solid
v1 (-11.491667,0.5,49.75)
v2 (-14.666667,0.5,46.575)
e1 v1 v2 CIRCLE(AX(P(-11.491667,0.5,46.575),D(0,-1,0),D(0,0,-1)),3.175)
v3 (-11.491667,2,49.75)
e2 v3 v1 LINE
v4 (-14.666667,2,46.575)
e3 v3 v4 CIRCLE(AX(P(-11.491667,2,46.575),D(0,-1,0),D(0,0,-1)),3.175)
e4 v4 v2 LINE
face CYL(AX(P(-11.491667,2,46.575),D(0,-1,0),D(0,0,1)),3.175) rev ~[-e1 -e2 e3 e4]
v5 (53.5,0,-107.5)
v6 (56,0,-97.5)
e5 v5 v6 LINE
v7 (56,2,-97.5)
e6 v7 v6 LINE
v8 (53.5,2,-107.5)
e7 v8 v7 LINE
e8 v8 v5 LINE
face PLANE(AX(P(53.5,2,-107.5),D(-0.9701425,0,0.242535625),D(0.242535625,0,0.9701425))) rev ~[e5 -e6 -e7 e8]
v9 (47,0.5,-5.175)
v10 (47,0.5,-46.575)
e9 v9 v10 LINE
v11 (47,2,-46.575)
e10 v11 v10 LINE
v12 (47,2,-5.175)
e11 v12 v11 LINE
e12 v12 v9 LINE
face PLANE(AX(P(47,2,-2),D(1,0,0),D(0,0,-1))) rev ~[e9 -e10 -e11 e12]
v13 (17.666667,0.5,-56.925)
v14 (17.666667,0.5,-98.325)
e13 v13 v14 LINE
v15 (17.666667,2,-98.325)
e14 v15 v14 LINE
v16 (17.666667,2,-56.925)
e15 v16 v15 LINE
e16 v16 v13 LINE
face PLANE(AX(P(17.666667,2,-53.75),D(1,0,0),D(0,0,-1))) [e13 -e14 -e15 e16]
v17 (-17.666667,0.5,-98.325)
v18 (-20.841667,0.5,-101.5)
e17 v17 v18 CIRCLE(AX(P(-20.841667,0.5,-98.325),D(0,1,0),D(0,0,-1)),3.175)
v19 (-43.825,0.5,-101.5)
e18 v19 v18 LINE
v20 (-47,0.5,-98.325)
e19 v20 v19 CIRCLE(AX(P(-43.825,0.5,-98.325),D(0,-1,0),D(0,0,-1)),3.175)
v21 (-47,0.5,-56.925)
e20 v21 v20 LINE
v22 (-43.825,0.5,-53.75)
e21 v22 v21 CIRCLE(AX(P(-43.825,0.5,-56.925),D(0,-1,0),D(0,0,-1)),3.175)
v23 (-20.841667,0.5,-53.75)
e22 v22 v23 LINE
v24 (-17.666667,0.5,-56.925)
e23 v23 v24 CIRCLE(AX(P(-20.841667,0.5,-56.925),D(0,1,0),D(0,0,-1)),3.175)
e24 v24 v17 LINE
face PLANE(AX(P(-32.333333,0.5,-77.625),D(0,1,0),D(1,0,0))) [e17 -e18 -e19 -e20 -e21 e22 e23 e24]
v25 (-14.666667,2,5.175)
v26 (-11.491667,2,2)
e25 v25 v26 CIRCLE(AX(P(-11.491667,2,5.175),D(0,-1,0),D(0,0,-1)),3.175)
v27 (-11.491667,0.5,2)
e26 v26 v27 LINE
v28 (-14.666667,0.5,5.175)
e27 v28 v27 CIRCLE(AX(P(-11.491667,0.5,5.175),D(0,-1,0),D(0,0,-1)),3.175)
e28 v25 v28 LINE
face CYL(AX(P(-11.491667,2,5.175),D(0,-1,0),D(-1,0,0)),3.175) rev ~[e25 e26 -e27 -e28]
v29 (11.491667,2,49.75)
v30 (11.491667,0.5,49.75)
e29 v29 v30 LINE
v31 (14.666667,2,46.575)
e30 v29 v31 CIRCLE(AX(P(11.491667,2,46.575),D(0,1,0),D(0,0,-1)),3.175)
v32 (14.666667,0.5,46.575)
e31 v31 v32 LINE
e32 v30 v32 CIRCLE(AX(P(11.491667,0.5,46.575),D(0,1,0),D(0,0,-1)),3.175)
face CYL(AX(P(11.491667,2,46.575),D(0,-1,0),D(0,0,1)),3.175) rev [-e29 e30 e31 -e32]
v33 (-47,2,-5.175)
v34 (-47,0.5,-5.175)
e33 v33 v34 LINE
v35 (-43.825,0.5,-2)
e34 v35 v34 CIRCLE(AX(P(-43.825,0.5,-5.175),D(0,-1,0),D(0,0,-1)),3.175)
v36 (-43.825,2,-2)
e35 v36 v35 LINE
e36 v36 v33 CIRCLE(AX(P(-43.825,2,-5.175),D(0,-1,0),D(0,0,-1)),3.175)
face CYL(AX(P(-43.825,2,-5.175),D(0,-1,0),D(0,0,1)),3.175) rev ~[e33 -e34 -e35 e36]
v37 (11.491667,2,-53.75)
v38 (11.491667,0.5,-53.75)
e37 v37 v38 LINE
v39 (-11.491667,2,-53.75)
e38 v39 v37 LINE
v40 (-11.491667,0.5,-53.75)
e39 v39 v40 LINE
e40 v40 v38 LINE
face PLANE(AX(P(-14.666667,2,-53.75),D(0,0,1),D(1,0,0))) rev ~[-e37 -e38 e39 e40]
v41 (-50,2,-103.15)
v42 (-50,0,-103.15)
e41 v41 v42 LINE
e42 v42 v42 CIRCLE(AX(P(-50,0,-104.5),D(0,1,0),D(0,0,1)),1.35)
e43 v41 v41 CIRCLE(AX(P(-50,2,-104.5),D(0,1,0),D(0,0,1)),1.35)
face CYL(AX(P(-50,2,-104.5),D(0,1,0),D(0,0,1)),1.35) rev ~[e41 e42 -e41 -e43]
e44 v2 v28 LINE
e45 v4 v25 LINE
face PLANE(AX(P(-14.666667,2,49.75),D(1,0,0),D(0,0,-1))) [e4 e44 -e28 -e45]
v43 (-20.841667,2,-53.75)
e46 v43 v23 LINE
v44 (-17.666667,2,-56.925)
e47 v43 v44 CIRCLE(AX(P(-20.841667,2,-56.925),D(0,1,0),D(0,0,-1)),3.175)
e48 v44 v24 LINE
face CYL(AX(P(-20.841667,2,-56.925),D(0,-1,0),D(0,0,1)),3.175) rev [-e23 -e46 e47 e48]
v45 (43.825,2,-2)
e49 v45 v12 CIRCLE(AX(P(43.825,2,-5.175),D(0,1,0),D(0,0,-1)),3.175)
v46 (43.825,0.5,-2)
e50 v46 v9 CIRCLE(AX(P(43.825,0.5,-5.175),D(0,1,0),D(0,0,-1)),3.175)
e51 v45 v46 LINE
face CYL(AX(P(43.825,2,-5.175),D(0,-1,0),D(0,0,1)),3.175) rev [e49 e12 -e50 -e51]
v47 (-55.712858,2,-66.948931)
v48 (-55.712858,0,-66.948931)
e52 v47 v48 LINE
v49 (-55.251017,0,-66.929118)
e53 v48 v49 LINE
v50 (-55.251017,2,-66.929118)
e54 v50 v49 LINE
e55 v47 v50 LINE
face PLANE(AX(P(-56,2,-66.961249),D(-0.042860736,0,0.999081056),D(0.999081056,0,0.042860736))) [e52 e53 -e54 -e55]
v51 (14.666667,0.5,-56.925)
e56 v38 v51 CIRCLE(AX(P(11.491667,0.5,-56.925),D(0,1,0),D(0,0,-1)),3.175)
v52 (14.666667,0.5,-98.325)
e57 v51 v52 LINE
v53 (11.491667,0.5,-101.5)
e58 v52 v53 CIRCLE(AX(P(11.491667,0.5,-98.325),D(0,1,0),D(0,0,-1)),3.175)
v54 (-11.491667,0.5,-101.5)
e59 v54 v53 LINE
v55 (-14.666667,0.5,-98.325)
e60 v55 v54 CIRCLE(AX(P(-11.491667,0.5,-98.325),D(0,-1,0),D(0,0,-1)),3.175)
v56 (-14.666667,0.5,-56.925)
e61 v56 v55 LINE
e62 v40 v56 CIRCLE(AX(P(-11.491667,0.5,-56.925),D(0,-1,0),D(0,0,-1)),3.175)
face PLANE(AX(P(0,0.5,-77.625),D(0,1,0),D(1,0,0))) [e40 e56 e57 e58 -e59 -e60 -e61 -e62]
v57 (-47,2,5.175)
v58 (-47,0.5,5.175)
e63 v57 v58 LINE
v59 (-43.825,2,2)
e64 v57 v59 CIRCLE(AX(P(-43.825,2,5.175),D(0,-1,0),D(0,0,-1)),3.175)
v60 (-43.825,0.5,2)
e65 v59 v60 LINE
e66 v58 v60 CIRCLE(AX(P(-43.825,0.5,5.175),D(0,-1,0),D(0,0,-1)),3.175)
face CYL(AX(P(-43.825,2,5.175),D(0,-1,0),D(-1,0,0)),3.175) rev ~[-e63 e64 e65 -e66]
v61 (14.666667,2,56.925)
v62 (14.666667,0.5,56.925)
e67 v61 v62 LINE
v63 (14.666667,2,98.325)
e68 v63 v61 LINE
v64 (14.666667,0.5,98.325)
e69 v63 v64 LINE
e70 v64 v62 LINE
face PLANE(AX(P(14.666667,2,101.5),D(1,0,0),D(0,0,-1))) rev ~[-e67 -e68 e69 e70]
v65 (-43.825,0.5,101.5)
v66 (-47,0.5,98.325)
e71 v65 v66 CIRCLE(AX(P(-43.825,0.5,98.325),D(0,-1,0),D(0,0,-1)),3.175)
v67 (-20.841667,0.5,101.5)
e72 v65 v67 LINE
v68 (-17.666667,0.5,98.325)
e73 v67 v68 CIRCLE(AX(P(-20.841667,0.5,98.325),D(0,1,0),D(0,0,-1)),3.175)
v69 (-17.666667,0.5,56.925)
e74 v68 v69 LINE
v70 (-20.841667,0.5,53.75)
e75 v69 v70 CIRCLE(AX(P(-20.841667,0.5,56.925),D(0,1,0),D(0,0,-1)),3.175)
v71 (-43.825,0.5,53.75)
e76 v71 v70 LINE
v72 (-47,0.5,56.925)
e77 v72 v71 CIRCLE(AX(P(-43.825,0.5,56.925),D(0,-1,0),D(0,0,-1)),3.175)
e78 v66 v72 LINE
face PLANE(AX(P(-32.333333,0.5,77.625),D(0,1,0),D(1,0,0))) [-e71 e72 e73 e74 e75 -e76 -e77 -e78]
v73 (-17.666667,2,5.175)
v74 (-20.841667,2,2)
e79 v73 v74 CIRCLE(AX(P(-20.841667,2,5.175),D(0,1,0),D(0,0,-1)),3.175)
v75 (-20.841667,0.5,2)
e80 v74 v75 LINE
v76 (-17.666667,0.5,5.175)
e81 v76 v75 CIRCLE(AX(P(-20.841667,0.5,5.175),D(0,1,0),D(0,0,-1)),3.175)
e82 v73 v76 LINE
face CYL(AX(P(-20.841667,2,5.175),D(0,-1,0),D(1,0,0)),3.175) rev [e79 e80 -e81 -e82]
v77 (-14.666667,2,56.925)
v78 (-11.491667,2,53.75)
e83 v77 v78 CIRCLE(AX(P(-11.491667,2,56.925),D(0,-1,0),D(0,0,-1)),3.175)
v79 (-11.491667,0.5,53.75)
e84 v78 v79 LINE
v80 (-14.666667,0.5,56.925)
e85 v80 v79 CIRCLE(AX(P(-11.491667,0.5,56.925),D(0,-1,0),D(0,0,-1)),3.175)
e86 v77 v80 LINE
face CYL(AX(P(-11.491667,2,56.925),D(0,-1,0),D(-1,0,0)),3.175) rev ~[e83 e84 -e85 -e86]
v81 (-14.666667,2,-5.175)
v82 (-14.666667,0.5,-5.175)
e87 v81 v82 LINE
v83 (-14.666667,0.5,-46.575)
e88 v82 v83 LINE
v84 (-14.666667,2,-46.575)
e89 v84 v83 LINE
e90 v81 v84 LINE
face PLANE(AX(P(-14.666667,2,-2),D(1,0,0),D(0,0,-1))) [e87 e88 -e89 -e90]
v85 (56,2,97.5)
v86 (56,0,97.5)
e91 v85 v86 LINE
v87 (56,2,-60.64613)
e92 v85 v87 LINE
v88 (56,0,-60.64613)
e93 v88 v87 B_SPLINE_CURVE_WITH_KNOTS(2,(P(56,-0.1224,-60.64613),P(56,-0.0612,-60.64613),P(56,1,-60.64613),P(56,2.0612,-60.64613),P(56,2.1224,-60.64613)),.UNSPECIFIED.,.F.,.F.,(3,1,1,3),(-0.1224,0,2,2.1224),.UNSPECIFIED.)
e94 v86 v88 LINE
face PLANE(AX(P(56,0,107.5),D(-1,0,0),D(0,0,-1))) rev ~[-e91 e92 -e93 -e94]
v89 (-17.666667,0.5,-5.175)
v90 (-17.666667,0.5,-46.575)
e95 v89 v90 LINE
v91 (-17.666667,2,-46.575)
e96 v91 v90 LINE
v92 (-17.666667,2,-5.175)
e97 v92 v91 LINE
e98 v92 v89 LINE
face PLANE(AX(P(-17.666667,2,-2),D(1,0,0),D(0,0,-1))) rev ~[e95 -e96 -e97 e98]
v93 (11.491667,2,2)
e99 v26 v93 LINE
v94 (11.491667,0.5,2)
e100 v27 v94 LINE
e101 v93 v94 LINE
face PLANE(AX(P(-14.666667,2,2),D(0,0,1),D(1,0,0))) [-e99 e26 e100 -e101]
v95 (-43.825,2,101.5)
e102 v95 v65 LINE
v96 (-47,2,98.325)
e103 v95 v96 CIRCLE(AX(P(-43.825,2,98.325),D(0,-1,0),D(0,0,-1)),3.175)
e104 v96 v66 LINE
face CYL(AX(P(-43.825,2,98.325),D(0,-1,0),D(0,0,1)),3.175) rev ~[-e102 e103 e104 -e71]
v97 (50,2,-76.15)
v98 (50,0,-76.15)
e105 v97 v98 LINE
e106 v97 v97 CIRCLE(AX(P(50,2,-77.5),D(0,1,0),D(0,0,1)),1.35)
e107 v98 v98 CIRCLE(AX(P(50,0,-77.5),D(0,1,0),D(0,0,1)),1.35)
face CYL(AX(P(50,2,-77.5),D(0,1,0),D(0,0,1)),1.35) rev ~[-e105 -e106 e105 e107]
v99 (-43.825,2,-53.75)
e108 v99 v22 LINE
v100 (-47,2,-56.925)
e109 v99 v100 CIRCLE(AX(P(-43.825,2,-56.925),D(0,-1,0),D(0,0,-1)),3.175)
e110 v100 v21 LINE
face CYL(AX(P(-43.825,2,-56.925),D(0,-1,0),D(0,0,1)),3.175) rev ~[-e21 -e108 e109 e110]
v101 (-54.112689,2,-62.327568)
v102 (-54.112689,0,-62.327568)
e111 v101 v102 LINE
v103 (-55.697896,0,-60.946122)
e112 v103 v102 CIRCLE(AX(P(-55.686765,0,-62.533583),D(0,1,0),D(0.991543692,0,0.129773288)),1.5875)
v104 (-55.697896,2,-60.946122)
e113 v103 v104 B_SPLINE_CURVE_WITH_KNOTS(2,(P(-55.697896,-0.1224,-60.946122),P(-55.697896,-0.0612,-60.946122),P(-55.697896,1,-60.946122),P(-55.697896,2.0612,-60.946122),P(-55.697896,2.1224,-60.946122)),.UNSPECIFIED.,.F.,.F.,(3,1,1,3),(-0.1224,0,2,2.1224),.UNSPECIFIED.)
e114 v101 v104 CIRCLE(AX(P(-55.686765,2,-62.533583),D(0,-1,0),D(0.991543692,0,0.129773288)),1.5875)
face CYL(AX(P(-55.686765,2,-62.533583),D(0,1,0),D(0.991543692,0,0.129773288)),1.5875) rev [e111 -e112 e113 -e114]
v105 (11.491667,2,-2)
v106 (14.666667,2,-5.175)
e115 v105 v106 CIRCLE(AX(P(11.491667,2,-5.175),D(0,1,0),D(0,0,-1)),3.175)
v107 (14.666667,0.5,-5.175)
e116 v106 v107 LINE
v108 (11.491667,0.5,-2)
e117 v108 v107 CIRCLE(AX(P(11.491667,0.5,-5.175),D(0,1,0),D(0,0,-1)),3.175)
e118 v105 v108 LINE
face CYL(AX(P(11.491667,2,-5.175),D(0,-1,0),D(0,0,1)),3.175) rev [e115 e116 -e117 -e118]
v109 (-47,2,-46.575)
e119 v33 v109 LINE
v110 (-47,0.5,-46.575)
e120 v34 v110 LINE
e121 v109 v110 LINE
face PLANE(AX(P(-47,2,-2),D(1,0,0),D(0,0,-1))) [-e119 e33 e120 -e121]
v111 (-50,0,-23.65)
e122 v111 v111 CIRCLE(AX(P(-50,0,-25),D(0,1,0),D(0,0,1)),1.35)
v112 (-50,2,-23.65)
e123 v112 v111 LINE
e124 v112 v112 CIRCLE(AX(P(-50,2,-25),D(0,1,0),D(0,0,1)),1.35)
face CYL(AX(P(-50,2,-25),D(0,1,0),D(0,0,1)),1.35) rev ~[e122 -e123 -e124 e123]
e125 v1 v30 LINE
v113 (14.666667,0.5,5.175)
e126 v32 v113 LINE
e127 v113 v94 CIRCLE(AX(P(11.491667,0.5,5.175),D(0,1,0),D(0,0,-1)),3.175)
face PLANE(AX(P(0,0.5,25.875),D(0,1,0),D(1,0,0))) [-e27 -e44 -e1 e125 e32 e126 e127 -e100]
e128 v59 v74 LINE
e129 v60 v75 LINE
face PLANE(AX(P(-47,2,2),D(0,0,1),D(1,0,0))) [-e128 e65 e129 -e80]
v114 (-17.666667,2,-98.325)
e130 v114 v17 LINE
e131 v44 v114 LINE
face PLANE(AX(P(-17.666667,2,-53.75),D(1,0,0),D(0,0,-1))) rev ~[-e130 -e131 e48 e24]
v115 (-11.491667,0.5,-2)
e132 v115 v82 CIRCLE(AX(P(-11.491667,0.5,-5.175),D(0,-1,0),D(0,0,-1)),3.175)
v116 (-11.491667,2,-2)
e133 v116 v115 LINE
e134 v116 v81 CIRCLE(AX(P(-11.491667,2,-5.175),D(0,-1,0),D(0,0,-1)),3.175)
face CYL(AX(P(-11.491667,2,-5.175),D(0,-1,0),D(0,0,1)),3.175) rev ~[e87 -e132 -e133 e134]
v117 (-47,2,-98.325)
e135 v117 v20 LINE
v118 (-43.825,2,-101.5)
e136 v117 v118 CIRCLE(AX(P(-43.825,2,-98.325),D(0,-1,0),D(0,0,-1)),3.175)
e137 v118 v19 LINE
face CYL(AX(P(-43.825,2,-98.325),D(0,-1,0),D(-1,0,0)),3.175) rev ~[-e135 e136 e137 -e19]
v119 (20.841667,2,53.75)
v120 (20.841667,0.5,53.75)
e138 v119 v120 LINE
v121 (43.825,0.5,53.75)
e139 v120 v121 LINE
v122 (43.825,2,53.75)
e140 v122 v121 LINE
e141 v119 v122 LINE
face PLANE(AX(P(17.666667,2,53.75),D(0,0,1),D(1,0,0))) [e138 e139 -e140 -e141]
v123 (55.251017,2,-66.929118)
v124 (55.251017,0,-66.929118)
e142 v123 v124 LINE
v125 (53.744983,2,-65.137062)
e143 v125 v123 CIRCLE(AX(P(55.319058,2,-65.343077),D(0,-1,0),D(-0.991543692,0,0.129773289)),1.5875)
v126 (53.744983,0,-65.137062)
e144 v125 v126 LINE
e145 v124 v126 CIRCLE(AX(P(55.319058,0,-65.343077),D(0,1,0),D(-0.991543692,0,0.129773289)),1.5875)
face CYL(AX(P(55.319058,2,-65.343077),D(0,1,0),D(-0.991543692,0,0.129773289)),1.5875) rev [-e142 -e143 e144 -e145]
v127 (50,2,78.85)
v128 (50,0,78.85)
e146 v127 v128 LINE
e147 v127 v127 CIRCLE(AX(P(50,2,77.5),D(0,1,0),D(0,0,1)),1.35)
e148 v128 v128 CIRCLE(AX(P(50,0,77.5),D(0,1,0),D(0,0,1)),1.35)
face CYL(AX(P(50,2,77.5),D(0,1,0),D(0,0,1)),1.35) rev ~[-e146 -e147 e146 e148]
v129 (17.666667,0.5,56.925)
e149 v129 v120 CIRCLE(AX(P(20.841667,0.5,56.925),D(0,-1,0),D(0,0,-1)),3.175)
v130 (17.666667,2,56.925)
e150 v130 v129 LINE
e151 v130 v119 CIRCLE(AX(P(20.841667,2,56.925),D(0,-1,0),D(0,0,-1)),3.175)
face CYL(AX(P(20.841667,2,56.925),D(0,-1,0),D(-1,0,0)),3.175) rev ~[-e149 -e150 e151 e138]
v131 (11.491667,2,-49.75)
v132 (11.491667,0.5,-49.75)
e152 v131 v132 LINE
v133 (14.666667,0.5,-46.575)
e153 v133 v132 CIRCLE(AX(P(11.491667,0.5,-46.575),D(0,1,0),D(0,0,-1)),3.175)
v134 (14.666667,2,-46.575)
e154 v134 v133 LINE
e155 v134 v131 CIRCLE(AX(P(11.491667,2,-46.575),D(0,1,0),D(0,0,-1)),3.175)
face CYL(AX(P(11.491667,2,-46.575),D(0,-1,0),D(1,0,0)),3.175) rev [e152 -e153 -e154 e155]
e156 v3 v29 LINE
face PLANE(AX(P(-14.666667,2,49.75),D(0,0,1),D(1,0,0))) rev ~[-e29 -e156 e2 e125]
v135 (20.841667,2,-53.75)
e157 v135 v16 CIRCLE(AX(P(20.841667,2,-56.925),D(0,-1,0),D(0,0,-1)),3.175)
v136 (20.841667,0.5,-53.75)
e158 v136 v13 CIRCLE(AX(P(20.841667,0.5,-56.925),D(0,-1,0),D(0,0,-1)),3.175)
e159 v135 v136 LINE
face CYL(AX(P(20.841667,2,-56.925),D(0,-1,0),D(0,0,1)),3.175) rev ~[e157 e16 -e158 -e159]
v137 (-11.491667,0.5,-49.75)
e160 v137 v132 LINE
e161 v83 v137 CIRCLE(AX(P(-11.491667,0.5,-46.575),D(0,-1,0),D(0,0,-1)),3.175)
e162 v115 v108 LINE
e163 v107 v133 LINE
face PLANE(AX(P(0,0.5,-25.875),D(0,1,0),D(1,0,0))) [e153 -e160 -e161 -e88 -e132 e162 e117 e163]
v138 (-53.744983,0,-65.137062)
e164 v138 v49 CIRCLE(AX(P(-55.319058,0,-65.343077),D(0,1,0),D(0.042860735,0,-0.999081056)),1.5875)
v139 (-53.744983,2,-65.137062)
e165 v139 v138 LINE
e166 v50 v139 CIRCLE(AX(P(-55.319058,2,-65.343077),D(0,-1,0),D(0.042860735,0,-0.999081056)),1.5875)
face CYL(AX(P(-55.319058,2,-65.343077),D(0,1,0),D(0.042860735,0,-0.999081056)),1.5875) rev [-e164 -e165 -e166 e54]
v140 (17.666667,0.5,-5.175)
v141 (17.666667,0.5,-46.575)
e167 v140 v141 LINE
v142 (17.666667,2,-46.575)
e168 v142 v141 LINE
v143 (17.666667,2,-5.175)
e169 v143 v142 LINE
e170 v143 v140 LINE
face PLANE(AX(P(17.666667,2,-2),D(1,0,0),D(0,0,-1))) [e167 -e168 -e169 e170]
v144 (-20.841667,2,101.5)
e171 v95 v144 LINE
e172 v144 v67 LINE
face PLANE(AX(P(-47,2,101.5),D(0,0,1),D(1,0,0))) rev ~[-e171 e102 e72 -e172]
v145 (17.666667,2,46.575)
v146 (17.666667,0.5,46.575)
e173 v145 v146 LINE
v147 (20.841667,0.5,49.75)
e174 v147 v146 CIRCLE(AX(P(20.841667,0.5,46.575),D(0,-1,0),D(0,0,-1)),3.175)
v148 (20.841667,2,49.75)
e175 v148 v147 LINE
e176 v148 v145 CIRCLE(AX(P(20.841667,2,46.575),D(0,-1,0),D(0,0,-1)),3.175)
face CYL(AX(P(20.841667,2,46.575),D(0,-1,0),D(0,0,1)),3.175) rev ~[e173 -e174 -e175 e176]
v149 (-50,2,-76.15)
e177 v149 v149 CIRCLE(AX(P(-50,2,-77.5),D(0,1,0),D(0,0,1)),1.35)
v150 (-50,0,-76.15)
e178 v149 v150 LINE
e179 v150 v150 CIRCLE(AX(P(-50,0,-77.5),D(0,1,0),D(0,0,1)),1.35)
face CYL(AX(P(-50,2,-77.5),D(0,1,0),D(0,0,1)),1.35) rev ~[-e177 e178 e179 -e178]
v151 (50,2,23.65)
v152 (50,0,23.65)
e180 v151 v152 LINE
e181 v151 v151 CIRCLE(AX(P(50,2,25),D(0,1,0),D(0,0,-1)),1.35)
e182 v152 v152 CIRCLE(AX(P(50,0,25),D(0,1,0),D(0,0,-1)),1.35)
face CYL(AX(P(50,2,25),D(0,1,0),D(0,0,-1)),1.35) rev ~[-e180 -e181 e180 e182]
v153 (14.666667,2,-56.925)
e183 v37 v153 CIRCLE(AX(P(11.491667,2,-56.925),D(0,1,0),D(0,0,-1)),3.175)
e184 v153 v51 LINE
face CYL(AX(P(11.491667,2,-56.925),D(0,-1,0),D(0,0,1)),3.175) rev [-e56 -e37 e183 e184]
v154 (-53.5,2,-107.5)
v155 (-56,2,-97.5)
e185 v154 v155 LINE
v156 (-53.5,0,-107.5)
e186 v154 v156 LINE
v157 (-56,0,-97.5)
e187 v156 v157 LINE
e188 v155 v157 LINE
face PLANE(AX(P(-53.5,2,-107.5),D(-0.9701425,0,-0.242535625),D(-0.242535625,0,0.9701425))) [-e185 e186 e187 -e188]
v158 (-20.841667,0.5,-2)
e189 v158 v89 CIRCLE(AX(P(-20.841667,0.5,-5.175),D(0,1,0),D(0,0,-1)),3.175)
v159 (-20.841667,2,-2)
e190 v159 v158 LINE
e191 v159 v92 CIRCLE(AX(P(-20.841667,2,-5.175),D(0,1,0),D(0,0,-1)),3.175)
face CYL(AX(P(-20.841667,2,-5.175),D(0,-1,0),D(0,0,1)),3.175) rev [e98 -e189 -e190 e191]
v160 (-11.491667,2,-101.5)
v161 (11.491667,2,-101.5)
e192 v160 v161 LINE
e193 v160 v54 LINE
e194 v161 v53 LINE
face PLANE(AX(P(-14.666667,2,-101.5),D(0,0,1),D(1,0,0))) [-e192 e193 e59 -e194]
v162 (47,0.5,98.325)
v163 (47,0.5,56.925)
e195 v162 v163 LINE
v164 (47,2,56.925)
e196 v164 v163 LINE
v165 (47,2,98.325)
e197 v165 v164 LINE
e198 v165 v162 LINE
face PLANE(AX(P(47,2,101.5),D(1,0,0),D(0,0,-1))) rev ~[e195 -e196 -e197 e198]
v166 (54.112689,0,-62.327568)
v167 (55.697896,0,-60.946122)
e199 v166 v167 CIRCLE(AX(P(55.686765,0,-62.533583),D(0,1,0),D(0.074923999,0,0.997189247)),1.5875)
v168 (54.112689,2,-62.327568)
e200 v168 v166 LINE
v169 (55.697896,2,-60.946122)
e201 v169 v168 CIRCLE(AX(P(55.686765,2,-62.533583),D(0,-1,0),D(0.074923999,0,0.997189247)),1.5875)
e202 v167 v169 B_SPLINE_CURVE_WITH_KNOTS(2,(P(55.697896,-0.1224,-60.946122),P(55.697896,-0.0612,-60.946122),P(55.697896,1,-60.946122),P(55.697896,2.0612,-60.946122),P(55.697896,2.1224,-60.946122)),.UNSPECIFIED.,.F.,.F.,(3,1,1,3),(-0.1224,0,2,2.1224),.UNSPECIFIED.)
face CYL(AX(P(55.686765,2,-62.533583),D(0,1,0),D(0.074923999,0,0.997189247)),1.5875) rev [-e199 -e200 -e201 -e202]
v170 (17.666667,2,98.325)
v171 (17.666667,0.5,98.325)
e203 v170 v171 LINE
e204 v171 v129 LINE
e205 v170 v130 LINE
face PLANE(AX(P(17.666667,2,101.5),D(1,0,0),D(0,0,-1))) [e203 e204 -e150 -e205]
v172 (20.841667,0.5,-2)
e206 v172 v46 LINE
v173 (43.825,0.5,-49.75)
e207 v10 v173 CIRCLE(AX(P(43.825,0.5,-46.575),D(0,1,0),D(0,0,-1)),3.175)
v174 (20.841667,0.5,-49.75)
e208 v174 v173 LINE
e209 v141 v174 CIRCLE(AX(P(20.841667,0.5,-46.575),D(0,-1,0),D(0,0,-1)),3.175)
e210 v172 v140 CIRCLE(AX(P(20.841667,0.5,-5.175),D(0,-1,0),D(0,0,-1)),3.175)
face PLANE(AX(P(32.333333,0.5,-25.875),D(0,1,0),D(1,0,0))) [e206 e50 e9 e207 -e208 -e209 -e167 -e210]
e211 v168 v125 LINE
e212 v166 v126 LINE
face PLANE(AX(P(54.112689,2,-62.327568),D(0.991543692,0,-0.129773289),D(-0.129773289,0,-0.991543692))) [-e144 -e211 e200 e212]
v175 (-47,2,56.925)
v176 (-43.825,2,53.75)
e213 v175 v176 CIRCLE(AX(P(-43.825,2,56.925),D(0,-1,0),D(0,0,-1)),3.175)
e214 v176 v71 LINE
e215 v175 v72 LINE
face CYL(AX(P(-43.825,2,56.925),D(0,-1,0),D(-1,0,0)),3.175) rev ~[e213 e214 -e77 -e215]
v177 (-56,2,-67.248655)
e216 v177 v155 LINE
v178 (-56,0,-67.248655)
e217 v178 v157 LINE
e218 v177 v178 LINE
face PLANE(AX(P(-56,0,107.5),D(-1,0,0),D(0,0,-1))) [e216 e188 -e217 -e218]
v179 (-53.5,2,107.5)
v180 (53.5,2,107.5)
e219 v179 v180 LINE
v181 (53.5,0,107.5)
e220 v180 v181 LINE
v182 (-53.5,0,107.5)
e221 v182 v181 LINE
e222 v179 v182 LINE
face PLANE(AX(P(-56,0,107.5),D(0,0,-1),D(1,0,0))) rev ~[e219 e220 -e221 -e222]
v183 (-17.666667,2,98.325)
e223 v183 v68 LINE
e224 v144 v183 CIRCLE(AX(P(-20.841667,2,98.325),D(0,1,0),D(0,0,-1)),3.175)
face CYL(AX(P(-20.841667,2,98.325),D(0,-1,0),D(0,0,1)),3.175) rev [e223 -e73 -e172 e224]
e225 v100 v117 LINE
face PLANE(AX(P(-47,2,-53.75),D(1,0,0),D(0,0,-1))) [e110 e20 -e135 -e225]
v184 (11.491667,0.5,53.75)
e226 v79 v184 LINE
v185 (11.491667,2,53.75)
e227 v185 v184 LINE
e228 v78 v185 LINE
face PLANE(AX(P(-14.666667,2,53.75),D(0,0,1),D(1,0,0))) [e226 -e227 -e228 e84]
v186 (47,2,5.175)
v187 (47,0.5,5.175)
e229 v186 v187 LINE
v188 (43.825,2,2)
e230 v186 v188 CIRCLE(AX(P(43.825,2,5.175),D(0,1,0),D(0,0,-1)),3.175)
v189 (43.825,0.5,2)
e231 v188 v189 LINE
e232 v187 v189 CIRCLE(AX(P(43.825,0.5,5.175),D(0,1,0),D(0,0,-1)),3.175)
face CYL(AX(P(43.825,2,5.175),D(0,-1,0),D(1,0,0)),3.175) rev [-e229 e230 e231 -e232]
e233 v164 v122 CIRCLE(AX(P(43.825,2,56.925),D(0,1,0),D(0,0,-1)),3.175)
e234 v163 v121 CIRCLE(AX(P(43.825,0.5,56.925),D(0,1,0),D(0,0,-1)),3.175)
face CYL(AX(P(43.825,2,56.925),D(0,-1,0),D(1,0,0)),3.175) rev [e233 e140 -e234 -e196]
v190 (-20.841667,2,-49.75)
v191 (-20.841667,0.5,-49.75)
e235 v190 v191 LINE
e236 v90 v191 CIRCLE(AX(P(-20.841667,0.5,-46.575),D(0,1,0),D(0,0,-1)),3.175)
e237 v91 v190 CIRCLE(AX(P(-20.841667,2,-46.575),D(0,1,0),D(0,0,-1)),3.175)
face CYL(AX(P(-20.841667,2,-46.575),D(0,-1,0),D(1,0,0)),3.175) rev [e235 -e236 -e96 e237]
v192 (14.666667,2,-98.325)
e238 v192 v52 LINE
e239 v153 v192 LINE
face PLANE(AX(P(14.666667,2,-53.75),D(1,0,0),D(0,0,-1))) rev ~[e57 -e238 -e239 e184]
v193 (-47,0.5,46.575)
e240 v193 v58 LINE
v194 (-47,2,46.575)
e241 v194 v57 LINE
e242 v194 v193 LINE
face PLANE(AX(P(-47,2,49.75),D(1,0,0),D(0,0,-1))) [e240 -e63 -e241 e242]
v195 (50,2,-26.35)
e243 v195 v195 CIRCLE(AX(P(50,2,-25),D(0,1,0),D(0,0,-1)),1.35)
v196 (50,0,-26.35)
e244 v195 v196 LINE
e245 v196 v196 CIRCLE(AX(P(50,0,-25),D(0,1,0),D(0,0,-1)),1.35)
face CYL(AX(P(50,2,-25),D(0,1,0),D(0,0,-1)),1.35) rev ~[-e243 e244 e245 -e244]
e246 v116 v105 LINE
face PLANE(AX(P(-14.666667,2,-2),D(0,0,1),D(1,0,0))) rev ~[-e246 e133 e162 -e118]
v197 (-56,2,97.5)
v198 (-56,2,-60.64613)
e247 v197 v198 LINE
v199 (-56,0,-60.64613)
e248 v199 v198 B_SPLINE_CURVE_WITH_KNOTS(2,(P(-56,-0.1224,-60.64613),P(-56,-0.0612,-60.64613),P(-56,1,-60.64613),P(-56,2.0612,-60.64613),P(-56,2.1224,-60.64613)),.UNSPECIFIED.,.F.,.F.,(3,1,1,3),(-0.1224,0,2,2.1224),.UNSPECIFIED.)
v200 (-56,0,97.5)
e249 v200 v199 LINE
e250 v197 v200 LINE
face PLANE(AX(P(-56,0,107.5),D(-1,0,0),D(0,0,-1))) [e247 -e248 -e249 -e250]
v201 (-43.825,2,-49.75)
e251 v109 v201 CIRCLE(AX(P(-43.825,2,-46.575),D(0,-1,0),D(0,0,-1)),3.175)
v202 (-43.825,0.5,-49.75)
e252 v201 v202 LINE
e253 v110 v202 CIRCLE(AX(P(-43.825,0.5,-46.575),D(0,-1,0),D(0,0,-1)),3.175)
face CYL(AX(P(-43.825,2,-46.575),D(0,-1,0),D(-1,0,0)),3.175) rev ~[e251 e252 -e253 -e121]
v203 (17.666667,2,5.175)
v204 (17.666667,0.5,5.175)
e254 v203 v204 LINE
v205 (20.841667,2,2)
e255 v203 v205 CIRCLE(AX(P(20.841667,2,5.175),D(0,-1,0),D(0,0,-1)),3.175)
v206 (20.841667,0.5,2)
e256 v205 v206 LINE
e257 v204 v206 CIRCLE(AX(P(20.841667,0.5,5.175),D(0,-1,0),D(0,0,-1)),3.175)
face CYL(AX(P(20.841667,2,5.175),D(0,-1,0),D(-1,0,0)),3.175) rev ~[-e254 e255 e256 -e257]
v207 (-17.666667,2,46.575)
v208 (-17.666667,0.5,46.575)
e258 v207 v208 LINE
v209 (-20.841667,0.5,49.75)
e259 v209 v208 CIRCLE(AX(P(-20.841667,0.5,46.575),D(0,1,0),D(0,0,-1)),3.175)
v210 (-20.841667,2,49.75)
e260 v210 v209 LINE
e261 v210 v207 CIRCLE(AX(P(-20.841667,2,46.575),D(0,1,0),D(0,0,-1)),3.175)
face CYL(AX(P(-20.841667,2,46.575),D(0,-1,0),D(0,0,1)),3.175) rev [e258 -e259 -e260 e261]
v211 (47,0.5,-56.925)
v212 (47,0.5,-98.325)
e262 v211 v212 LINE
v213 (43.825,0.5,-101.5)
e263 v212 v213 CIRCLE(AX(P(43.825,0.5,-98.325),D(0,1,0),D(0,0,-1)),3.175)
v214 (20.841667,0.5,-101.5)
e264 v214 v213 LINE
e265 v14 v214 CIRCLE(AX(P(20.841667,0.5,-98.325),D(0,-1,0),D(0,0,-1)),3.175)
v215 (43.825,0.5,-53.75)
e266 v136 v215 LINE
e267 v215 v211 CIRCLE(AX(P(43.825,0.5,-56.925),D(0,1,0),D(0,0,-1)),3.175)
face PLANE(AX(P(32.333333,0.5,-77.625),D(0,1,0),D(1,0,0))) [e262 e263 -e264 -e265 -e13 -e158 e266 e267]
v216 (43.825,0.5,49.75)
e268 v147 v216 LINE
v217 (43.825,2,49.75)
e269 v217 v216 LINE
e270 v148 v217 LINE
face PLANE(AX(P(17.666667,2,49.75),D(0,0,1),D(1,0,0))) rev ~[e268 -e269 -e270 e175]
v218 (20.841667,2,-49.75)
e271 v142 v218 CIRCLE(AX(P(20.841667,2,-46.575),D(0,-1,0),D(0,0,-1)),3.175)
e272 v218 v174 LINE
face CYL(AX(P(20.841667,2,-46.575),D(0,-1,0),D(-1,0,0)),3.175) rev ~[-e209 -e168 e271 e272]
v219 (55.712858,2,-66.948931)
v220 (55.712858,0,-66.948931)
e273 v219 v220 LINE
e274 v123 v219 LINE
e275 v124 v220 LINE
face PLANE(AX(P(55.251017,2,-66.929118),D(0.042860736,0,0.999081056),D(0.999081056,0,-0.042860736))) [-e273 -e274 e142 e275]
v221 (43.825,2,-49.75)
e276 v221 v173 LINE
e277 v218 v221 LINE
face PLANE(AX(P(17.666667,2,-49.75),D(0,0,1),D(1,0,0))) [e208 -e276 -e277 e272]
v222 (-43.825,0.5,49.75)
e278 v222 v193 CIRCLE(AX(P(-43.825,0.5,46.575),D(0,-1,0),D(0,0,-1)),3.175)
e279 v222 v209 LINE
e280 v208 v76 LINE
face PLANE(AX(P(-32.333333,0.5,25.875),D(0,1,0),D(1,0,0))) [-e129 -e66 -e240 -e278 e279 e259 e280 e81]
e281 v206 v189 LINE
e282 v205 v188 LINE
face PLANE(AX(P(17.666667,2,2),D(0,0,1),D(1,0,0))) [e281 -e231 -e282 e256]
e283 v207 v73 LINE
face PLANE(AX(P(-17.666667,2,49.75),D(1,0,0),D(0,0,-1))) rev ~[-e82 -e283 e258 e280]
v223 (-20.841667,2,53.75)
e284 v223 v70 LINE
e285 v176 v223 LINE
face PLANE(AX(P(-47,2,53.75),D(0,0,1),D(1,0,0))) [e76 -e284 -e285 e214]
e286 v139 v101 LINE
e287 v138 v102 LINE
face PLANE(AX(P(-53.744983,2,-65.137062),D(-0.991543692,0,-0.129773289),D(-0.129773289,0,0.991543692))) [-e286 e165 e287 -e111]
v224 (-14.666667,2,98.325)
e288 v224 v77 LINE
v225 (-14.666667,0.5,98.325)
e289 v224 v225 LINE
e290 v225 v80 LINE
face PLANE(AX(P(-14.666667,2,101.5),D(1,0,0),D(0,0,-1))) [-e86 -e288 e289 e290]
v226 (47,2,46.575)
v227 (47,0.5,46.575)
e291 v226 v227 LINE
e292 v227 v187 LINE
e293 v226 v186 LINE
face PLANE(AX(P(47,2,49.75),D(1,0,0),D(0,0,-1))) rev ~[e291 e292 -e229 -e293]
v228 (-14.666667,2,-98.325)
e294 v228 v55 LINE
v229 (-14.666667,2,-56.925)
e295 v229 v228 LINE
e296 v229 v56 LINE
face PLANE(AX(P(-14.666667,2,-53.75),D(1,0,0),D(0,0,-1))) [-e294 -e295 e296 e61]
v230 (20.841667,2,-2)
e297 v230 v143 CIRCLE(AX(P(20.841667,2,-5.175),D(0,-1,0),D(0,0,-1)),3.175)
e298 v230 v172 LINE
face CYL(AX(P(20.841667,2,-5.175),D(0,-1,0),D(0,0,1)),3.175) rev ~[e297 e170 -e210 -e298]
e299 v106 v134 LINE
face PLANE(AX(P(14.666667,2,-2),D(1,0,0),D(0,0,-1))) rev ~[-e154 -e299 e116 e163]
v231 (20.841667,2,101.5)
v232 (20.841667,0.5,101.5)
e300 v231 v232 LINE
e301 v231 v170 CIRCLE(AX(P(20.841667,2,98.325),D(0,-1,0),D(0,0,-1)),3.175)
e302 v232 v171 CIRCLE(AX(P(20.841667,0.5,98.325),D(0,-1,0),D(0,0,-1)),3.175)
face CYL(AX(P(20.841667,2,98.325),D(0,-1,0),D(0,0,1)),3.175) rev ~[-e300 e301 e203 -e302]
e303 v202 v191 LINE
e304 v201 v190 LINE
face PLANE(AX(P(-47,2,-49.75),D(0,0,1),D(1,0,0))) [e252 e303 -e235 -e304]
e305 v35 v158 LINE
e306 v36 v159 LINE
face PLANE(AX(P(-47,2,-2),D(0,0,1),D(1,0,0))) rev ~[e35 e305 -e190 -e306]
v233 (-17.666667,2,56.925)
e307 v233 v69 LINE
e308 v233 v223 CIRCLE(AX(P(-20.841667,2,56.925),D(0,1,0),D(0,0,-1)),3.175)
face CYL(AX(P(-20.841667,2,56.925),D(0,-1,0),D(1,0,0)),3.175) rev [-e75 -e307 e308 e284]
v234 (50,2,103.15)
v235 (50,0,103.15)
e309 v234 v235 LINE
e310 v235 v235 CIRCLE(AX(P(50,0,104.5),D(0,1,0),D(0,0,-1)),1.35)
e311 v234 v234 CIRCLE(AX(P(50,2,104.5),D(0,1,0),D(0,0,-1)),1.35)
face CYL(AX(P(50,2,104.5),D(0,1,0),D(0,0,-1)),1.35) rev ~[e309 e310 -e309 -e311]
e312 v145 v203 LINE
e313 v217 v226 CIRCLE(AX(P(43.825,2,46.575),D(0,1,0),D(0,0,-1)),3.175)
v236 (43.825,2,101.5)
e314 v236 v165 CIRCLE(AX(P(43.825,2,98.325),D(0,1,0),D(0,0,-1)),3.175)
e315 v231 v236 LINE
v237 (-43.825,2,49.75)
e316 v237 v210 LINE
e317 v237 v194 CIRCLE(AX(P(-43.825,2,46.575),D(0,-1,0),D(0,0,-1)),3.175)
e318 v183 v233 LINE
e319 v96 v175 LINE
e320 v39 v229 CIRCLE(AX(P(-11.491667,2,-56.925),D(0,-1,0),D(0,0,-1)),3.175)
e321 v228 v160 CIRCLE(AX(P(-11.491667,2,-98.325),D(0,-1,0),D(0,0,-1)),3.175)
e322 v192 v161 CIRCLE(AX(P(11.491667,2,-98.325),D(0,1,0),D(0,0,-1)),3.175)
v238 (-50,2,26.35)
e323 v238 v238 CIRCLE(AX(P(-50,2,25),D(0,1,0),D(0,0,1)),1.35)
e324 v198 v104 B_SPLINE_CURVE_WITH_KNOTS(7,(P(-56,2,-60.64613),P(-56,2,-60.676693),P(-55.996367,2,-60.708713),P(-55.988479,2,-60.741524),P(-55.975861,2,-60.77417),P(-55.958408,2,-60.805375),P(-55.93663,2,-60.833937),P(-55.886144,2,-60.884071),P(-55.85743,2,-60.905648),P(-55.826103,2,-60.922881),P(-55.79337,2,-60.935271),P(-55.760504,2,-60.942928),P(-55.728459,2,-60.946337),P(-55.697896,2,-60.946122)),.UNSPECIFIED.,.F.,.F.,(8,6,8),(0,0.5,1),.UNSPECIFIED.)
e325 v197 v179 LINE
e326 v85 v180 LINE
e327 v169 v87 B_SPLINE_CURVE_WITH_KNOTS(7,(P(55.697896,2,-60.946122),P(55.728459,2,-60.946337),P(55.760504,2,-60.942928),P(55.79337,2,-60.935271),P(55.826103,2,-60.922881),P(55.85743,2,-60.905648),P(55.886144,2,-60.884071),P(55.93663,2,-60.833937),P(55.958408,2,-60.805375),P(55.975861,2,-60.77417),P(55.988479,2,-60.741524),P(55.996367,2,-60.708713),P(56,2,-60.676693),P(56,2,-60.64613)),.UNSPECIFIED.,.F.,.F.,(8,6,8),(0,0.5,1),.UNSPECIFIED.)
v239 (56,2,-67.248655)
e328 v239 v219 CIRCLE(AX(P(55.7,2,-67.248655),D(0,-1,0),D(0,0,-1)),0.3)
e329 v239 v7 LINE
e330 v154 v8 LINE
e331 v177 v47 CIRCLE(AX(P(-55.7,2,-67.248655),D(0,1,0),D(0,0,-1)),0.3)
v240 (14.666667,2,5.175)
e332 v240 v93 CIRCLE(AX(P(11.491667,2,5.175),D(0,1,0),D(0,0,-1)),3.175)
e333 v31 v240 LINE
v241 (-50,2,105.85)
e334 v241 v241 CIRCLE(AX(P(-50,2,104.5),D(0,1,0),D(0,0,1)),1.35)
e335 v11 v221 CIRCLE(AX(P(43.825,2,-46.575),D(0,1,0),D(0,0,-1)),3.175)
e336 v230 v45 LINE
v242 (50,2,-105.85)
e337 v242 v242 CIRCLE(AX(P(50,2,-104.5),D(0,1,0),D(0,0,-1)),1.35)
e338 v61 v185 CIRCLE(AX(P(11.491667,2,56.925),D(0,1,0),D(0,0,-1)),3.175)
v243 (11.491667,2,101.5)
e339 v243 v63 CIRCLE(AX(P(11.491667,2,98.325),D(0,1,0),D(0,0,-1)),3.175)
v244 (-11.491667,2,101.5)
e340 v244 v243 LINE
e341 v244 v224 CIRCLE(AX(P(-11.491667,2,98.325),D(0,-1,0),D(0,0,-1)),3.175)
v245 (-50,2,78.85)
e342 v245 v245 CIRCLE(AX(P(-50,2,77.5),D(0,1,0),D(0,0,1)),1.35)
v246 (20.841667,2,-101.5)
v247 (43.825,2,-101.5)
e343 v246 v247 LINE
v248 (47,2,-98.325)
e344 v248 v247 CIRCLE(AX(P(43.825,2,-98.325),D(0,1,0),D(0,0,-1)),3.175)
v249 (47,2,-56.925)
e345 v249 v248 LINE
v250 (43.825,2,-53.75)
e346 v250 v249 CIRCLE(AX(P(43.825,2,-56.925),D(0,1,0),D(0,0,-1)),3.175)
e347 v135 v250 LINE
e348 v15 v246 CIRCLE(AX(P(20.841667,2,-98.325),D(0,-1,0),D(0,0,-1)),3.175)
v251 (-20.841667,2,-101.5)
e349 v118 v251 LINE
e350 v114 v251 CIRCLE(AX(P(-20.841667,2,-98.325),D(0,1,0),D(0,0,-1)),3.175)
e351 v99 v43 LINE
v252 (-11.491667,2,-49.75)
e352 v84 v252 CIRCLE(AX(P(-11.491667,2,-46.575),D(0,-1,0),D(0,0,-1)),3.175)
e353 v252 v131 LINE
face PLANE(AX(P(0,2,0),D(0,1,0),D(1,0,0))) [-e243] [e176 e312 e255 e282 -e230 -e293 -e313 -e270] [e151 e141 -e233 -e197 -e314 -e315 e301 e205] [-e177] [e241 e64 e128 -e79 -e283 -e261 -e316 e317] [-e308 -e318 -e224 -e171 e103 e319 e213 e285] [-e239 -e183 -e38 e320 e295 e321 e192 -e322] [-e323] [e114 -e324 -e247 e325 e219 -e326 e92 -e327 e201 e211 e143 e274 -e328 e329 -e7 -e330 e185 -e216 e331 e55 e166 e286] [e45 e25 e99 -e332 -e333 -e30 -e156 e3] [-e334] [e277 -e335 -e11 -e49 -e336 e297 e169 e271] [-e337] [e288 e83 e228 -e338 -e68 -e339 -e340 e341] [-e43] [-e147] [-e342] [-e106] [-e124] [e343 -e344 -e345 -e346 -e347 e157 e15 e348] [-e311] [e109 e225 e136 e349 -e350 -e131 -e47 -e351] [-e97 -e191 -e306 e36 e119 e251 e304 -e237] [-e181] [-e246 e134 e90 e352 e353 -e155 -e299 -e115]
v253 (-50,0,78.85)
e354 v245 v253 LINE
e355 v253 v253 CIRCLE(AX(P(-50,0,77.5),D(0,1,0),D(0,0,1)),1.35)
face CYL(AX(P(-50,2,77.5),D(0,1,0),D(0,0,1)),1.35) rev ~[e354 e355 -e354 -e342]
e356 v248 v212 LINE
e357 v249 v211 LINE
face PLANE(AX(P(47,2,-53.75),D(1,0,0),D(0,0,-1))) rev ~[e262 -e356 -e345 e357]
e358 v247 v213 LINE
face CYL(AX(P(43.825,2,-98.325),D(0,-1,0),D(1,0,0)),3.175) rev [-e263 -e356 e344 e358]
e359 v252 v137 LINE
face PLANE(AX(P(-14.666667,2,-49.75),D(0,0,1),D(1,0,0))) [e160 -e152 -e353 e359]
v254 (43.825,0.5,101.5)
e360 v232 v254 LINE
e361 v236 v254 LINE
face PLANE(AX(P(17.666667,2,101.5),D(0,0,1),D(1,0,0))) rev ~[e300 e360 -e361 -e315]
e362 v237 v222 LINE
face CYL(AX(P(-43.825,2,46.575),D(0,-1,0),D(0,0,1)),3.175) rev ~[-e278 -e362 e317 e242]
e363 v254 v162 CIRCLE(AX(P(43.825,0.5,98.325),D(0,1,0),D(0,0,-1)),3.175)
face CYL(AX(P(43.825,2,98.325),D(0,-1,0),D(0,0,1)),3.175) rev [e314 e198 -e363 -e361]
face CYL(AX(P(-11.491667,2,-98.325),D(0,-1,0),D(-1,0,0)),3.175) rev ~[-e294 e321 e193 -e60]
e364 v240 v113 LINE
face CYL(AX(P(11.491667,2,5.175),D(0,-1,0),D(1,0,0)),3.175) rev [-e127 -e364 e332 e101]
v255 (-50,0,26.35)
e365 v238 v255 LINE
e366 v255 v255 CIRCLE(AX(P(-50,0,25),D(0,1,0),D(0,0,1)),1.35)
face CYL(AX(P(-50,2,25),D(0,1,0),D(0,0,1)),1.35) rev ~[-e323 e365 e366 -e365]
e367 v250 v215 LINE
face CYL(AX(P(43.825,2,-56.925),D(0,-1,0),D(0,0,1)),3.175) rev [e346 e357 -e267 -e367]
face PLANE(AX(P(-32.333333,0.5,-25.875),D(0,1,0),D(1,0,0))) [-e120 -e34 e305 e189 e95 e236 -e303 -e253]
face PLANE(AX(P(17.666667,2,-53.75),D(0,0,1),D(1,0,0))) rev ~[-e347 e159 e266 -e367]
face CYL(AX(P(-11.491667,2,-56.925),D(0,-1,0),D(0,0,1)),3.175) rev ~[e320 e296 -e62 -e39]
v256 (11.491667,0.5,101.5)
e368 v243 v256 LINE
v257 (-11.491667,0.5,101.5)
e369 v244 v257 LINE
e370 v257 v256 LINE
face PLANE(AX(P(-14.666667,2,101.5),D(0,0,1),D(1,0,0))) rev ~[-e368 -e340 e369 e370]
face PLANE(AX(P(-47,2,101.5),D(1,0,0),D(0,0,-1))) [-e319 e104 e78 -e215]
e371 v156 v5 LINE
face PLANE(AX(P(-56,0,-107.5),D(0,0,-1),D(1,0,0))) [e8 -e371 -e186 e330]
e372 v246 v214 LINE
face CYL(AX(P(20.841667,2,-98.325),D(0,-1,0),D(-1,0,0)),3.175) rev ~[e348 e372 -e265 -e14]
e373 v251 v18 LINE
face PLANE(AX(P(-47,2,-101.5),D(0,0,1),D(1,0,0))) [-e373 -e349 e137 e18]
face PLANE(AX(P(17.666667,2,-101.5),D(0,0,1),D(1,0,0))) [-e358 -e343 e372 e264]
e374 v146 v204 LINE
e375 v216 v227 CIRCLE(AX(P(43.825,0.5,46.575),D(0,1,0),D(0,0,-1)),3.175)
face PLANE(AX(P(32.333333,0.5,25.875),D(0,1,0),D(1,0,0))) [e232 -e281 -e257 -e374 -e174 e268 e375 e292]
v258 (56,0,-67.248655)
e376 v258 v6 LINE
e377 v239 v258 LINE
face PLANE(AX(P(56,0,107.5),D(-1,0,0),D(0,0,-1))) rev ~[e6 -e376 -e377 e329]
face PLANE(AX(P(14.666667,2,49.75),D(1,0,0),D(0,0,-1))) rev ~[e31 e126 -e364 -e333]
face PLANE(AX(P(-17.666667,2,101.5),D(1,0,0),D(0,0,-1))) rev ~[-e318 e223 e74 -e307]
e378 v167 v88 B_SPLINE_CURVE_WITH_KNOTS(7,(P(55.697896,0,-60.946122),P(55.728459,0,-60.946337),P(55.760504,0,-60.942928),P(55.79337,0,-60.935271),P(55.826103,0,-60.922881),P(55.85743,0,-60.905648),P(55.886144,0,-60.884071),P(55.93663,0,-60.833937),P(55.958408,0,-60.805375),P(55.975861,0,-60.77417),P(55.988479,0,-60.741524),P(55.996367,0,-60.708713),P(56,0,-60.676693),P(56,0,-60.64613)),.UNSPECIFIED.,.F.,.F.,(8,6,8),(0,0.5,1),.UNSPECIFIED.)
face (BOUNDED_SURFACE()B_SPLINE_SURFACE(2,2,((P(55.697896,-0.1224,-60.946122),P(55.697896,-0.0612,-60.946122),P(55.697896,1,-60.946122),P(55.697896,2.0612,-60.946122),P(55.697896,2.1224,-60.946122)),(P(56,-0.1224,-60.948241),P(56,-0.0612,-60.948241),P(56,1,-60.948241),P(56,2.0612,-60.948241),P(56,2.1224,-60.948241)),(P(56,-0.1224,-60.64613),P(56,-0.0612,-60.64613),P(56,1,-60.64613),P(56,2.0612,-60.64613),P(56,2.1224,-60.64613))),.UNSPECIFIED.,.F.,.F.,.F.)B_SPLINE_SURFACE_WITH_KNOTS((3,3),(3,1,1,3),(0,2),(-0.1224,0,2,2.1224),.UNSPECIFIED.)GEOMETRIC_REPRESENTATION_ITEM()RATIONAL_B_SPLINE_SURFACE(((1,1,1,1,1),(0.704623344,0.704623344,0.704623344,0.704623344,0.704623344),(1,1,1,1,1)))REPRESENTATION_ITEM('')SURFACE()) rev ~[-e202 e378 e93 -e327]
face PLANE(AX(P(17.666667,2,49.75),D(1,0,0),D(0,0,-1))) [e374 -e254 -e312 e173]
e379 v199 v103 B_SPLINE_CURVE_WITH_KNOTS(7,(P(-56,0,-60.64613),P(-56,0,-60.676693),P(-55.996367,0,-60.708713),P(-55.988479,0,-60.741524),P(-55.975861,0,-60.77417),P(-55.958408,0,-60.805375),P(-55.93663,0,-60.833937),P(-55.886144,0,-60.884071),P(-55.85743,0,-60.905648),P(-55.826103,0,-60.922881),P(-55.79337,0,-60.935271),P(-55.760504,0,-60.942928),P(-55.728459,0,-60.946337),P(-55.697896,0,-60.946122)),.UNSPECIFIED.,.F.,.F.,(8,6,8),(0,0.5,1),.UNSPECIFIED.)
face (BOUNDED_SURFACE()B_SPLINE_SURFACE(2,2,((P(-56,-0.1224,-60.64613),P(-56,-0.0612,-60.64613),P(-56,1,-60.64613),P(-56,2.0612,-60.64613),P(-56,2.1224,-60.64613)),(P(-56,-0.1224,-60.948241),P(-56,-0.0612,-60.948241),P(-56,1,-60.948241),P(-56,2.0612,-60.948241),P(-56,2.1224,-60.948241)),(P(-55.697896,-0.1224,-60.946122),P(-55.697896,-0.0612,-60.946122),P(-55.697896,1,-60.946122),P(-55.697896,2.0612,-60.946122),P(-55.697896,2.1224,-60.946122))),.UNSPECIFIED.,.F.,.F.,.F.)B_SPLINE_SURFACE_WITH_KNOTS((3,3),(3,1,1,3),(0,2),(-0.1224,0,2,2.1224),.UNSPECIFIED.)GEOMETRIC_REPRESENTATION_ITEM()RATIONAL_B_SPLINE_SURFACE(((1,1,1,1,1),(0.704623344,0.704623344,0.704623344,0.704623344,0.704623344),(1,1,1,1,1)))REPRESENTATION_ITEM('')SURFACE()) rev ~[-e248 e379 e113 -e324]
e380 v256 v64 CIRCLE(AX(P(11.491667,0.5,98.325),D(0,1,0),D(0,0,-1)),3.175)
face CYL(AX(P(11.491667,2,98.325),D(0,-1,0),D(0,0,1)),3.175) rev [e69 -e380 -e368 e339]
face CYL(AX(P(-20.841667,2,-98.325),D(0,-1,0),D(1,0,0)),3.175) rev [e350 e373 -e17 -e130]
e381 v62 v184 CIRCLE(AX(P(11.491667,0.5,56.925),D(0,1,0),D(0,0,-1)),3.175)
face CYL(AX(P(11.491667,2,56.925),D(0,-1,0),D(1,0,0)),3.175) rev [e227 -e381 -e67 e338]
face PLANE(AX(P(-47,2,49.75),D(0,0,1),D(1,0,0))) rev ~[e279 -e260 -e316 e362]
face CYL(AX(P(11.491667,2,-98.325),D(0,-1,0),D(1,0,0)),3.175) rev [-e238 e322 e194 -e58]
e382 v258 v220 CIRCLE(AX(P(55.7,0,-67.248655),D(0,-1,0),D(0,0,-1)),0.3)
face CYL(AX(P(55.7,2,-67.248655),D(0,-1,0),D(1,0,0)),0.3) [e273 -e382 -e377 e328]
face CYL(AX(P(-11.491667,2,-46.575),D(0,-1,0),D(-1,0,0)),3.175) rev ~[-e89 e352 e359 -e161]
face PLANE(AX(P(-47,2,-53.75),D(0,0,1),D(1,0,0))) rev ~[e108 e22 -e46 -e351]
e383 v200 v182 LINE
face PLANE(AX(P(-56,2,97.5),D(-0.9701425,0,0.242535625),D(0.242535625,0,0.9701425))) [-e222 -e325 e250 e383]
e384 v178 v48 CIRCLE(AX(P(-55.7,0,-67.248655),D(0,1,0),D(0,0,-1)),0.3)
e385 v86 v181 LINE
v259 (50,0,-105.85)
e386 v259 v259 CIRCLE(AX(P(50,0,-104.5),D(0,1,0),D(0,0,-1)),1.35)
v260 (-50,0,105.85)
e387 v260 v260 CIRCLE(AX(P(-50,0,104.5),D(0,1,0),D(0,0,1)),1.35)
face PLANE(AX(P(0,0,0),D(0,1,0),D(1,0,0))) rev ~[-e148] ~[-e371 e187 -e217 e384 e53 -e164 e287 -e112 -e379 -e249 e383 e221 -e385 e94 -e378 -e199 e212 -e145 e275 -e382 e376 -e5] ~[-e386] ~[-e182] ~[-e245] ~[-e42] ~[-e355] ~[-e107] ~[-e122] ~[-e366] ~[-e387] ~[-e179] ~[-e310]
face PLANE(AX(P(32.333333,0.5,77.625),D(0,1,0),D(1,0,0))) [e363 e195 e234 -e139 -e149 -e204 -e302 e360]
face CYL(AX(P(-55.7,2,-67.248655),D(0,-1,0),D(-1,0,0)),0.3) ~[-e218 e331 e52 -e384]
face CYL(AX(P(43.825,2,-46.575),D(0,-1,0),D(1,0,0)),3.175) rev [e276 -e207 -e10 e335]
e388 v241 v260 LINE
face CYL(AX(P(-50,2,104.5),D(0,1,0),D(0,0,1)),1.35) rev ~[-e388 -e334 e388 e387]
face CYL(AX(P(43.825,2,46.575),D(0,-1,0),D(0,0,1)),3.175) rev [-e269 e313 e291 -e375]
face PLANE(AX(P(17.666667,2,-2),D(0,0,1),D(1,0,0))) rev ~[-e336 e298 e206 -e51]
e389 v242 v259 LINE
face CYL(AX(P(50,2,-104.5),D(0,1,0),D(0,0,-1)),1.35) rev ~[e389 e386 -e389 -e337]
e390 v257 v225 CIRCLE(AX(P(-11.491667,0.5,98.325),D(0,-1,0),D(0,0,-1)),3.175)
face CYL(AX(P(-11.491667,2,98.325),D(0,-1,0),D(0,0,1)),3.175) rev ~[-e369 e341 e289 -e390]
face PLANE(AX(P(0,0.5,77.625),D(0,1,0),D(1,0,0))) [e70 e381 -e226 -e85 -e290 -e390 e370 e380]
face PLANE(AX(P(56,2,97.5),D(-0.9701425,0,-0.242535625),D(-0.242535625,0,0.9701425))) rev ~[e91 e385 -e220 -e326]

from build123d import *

# Parameters (mm, degrees)
SKETCH1_W           = 112
SKETCH1_H           = 215
BOSS_EXTRUDE1_DEPTH = 2
SKETCH2_W           = 29.333333333
SKETCH2_H           = 47.75
SKETCH2_W_2         = 29.333333334
CUT_EXTRUDE1_DEPTH  = 1.5
CUT_EXTRUDE2_DEPTH  = 122.228090804
SKETCH4_R           = 1.35
CUT_EXTRUDE3_DEPTH  = 122.228090804
FILLET1_R           = 3.175
FILLET2_R           = 3.175
CUT_EXTRUDE4_DEPTH  = 122.228090804
FILLET3_R           = 0.3


with BuildPart() as part:
    # Sketch1 → Boss-Extrude1 (new body)
    with BuildSketch(Plane(origin=(0, 0, 0), x_dir=(1, 0, 0), z_dir=(0, 1, 0))):
        Rectangle(SKETCH1_W, SKETCH1_H)
    extrude(amount=BOSS_EXTRUDE1_DEPTH)

    # Sketch2 → Cut-Extrude1 (cut)
    with BuildSketch(Plane(origin=(0, 2, 0), x_dir=(1, 0, 0), z_dir=(0, 1, 0))):
        with Locations((-32.333333334, 77.625)):
            Rectangle(SKETCH2_W, SKETCH2_H)
        with Locations((-32.333333334, 25.875)):
            Rectangle(SKETCH2_W, SKETCH2_H)
        with Locations((0, 77.625)):
            Rectangle(SKETCH2_W_2, SKETCH2_H)
        with Locations((0, 25.875)):
            Rectangle(SKETCH2_W_2, SKETCH2_H)
        with Locations((-32.333333334, -25.875)):
            Rectangle(SKETCH2_W, SKETCH2_H)
        with Locations((32.333333334, 77.625)):
            Rectangle(SKETCH2_W, SKETCH2_H)
        with Locations((32.333333334, 25.875)):
            Rectangle(SKETCH2_W, SKETCH2_H)
        with Locations((0, -25.875)):
            Rectangle(SKETCH2_W_2, SKETCH2_H)
        with Locations((32.333333334, -25.875)):
            Rectangle(SKETCH2_W, SKETCH2_H)
        with Locations((32.333333334, -77.625)):
            Rectangle(SKETCH2_W, SKETCH2_H)
        with Locations((0, -77.625)):
            Rectangle(SKETCH2_W_2, SKETCH2_H)
        with Locations((-32.333333334, -77.625)):
            Rectangle(SKETCH2_W, SKETCH2_H)
    extrude(amount=-CUT_EXTRUDE1_DEPTH, mode=Mode.SUBTRACT)

    # Sketch3 → Cut-Extrude2 (cut, through all)
    with BuildSketch(Plane(origin=(0, 2, 0), x_dir=(1, 0, 0), z_dir=(0, 1, 0))):
        Polygon((-56, 107.5), (-53.5, 107.5), (-56, 97.5), align=None)
        Polygon((56, 107.5), (53.5, 107.5), (56, 97.5), align=None)
        Polygon((56, -107.5), (56, -97.5), (53.5, -107.5), align=None)
        Polygon((-56, -107.5), (-56, -97.5), (-53.5, -107.5), align=None)
    extrude(amount=-CUT_EXTRUDE2_DEPTH, mode=Mode.SUBTRACT)

    # Sketch4 → Cut-Extrude3 (cut, through all)
    with BuildSketch(Plane(origin=(0, 2, 0), x_dir=(1, 0, 0), z_dir=(0, 1, 0))):
        with Locations(Location((-50, 104.5, 0), (0, 0, 270))):
            Circle(SKETCH4_R)
        with Locations(Location((-50, -104.5, 0), (0, 0, 270))):
            Circle(SKETCH4_R)
        with Locations(Location((50, -104.5, 0), (0, 0, 90))):
            Circle(SKETCH4_R)
        with Locations(Location((50, -25, 0), (0, 0, 90))):
            Circle(SKETCH4_R)
        with Locations(Location((50, 25, 0), (0, 0, 90))):
            Circle(SKETCH4_R)
        with Locations(Location((50, 104.5, 0), (0, 0, 90))):
            Circle(SKETCH4_R)
        with Locations(Location((-50, 77.5, 0), (0, 0, 270))):
            Circle(SKETCH4_R)
        with Locations(Location((-50, 25, 0), (0, 0, 270))):
            Circle(SKETCH4_R)
        with Locations(Location((-50, -25, 0), (0, 0, 270))):
            Circle(SKETCH4_R)
        with Locations(Location((-50, -77.5, 0), (0, 0, 270))):
            Circle(SKETCH4_R)
        with Locations(Location((50, -77.5, 0), (0, 0, 270))):
            Circle(SKETCH4_R)
        with Locations(Location((50, 77.5, 0), (0, 0, 270))):
            Circle(SKETCH4_R)
    extrude(amount=-CUT_EXTRUDE3_DEPTH, mode=Mode.SUBTRACT)

    # Fillet1
    fillet1_edges = [part.edges().sort_by_distance(p)[0] for p in [
        (-17.666666667, 1.25, -101.5),
        (-17.666666667, 1.25, -53.75),
        (-47, 1.25, -53.75),
        (-47, 1.25, -101.5),
        (-47, 1.25, 101.5),
        (-47, 1.25, 53.75),
        (-17.666666667, 1.25, 101.5),
        (14.666666667, 1.25, 53.75),
        (14.666666667, 1.25, 101.5),
        (-14.666666667, 1.25, 101.5),
        (-14.666666667, 1.25, 53.75),
        (47, 1.25, 53.75),
        (47, 1.25, 101.5),
        (17.666666667, 1.25, 101.5),
        (17.666666667, 1.25, 53.75),
        (17.666666667, 1.25, -53.75),
        (17.666666667, 1.25, -101.5),
        (47, 1.25, -101.5),
        (47, 1.25, -53.75),
        (-14.666666667, 1.25, -2),
        (-14.666666667, 1.25, -49.75),
        (14.666666667, 1.25, -49.75),
        (14.666666667, 1.25, -2),
        (-14.666666667, 1.25, -53.75),
        (-14.666666667, 1.25, -101.5),
        (14.666666667, 1.25, -101.5),
        (14.666666667, 1.25, -53.75),
        (-47, 1.25, -2),
        (-47, 1.25, -49.75),
        (-17.666666667, 1.25, -2),
        (47, 1.25, 2),
        (47, 1.25, 49.75),
        (17.666666667, 1.25, 49.75),
        (17.666666667, 1.25, 2),
        (14.666666667, 1.25, 2),
        (14.666666667, 1.25, 49.75),
        (-14.666666667, 1.25, 49.75),
        (-14.666666667, 1.25, 2),
        (-17.666666667, 1.25, 49.75),
        (-47, 1.25, 49.75),
        (-47, 1.25, 2),
        (17.666666667, 1.25, -2),
        (17.666666667, 1.25, -49.75),
        (47, 1.25, -49.75),
        (47, 1.25, -2),
    ]]
    fillet(fillet1_edges, radius=FILLET1_R)

    # Fillet2
    fillet2_edges = [part.edges().sort_by_distance(p)[0] for p in [
        (-17.666666667, 1.25, 53.75),
        (-17.666666667, 1.25, -49.75),
        (-17.666666667, 1.25, 2),
    ]]
    fillet(fillet2_edges, radius=FILLET2_R)

    # Sketch9 → Cut-Extrude4 (cut, through all)
    with BuildSketch(Plane(origin=(0, 2, 0), x_dir=(1, 0, 0), z_dir=(0, 1, 0))):
        with BuildLine():
            Line((-56, 66.961249469), (-55.251016984, 66.929117979))
            ThreePointArc((-55.251016984, 66.929117979), (-54.10373807, 66.364425295), (-53.744982789, 65.137061706))
            Line((-53.744982789, 65.137061706), (-54.112689456, 62.327568098))
            ThreePointArc((-54.112689456, 62.327568098), (-54.685065741, 61.302017235), (-55.805706914, 60.950545264))
            ThreePointArc((-55.805706914, 60.950545264), (-56.544843899, 60.751892413), (-56.927023895, 60.088774861))
            Line((-56.927023895, 60.088774861), (-57.5, 60.088774861))
            Line((-57.5, 60.088774861), (-57.5, 66.961249469))
            Line((-57.5, 66.961249469), (-56, 66.961249469))
        make_face()
        with BuildLine():
            Line((57.5, 66.961249469), (57.5, 60.088774861))
            Line((57.5, 60.088774861), (56.927023895, 60.088774861))
            ThreePointArc((56.927023895, 60.088774861), (56.544843899, 60.751892413), (55.805706914, 60.950545264))
            ThreePointArc((55.805706914, 60.950545264), (54.685065741, 61.302017235), (54.112689456, 62.327568098))
            Line((54.112689456, 62.327568098), (53.744982789, 65.137061706))
            ThreePointArc((53.744982789, 65.137061706), (54.10373807, 66.364425295), (55.251016984, 66.929117979))
            Line((55.251016984, 66.929117979), (56, 66.961249469))
            Line((56, 66.961249469), (57.5, 66.961249469))
        make_face()
    extrude(amount=-CUT_EXTRUDE4_DEPTH, mode=Mode.SUBTRACT)

    # Fillet3
    fillet3_edges = [part.edges().sort_by_distance(p)[0] for p in [
        (56, 1, -66.961249469),
        (56, 1, -60.956917999),
        (-56, 1, -60.956917999),
        (-56, 1, -66.961249469),
    ]]
    fillet(fillet3_edges, radius=FILLET3_R)


solid = part.part
